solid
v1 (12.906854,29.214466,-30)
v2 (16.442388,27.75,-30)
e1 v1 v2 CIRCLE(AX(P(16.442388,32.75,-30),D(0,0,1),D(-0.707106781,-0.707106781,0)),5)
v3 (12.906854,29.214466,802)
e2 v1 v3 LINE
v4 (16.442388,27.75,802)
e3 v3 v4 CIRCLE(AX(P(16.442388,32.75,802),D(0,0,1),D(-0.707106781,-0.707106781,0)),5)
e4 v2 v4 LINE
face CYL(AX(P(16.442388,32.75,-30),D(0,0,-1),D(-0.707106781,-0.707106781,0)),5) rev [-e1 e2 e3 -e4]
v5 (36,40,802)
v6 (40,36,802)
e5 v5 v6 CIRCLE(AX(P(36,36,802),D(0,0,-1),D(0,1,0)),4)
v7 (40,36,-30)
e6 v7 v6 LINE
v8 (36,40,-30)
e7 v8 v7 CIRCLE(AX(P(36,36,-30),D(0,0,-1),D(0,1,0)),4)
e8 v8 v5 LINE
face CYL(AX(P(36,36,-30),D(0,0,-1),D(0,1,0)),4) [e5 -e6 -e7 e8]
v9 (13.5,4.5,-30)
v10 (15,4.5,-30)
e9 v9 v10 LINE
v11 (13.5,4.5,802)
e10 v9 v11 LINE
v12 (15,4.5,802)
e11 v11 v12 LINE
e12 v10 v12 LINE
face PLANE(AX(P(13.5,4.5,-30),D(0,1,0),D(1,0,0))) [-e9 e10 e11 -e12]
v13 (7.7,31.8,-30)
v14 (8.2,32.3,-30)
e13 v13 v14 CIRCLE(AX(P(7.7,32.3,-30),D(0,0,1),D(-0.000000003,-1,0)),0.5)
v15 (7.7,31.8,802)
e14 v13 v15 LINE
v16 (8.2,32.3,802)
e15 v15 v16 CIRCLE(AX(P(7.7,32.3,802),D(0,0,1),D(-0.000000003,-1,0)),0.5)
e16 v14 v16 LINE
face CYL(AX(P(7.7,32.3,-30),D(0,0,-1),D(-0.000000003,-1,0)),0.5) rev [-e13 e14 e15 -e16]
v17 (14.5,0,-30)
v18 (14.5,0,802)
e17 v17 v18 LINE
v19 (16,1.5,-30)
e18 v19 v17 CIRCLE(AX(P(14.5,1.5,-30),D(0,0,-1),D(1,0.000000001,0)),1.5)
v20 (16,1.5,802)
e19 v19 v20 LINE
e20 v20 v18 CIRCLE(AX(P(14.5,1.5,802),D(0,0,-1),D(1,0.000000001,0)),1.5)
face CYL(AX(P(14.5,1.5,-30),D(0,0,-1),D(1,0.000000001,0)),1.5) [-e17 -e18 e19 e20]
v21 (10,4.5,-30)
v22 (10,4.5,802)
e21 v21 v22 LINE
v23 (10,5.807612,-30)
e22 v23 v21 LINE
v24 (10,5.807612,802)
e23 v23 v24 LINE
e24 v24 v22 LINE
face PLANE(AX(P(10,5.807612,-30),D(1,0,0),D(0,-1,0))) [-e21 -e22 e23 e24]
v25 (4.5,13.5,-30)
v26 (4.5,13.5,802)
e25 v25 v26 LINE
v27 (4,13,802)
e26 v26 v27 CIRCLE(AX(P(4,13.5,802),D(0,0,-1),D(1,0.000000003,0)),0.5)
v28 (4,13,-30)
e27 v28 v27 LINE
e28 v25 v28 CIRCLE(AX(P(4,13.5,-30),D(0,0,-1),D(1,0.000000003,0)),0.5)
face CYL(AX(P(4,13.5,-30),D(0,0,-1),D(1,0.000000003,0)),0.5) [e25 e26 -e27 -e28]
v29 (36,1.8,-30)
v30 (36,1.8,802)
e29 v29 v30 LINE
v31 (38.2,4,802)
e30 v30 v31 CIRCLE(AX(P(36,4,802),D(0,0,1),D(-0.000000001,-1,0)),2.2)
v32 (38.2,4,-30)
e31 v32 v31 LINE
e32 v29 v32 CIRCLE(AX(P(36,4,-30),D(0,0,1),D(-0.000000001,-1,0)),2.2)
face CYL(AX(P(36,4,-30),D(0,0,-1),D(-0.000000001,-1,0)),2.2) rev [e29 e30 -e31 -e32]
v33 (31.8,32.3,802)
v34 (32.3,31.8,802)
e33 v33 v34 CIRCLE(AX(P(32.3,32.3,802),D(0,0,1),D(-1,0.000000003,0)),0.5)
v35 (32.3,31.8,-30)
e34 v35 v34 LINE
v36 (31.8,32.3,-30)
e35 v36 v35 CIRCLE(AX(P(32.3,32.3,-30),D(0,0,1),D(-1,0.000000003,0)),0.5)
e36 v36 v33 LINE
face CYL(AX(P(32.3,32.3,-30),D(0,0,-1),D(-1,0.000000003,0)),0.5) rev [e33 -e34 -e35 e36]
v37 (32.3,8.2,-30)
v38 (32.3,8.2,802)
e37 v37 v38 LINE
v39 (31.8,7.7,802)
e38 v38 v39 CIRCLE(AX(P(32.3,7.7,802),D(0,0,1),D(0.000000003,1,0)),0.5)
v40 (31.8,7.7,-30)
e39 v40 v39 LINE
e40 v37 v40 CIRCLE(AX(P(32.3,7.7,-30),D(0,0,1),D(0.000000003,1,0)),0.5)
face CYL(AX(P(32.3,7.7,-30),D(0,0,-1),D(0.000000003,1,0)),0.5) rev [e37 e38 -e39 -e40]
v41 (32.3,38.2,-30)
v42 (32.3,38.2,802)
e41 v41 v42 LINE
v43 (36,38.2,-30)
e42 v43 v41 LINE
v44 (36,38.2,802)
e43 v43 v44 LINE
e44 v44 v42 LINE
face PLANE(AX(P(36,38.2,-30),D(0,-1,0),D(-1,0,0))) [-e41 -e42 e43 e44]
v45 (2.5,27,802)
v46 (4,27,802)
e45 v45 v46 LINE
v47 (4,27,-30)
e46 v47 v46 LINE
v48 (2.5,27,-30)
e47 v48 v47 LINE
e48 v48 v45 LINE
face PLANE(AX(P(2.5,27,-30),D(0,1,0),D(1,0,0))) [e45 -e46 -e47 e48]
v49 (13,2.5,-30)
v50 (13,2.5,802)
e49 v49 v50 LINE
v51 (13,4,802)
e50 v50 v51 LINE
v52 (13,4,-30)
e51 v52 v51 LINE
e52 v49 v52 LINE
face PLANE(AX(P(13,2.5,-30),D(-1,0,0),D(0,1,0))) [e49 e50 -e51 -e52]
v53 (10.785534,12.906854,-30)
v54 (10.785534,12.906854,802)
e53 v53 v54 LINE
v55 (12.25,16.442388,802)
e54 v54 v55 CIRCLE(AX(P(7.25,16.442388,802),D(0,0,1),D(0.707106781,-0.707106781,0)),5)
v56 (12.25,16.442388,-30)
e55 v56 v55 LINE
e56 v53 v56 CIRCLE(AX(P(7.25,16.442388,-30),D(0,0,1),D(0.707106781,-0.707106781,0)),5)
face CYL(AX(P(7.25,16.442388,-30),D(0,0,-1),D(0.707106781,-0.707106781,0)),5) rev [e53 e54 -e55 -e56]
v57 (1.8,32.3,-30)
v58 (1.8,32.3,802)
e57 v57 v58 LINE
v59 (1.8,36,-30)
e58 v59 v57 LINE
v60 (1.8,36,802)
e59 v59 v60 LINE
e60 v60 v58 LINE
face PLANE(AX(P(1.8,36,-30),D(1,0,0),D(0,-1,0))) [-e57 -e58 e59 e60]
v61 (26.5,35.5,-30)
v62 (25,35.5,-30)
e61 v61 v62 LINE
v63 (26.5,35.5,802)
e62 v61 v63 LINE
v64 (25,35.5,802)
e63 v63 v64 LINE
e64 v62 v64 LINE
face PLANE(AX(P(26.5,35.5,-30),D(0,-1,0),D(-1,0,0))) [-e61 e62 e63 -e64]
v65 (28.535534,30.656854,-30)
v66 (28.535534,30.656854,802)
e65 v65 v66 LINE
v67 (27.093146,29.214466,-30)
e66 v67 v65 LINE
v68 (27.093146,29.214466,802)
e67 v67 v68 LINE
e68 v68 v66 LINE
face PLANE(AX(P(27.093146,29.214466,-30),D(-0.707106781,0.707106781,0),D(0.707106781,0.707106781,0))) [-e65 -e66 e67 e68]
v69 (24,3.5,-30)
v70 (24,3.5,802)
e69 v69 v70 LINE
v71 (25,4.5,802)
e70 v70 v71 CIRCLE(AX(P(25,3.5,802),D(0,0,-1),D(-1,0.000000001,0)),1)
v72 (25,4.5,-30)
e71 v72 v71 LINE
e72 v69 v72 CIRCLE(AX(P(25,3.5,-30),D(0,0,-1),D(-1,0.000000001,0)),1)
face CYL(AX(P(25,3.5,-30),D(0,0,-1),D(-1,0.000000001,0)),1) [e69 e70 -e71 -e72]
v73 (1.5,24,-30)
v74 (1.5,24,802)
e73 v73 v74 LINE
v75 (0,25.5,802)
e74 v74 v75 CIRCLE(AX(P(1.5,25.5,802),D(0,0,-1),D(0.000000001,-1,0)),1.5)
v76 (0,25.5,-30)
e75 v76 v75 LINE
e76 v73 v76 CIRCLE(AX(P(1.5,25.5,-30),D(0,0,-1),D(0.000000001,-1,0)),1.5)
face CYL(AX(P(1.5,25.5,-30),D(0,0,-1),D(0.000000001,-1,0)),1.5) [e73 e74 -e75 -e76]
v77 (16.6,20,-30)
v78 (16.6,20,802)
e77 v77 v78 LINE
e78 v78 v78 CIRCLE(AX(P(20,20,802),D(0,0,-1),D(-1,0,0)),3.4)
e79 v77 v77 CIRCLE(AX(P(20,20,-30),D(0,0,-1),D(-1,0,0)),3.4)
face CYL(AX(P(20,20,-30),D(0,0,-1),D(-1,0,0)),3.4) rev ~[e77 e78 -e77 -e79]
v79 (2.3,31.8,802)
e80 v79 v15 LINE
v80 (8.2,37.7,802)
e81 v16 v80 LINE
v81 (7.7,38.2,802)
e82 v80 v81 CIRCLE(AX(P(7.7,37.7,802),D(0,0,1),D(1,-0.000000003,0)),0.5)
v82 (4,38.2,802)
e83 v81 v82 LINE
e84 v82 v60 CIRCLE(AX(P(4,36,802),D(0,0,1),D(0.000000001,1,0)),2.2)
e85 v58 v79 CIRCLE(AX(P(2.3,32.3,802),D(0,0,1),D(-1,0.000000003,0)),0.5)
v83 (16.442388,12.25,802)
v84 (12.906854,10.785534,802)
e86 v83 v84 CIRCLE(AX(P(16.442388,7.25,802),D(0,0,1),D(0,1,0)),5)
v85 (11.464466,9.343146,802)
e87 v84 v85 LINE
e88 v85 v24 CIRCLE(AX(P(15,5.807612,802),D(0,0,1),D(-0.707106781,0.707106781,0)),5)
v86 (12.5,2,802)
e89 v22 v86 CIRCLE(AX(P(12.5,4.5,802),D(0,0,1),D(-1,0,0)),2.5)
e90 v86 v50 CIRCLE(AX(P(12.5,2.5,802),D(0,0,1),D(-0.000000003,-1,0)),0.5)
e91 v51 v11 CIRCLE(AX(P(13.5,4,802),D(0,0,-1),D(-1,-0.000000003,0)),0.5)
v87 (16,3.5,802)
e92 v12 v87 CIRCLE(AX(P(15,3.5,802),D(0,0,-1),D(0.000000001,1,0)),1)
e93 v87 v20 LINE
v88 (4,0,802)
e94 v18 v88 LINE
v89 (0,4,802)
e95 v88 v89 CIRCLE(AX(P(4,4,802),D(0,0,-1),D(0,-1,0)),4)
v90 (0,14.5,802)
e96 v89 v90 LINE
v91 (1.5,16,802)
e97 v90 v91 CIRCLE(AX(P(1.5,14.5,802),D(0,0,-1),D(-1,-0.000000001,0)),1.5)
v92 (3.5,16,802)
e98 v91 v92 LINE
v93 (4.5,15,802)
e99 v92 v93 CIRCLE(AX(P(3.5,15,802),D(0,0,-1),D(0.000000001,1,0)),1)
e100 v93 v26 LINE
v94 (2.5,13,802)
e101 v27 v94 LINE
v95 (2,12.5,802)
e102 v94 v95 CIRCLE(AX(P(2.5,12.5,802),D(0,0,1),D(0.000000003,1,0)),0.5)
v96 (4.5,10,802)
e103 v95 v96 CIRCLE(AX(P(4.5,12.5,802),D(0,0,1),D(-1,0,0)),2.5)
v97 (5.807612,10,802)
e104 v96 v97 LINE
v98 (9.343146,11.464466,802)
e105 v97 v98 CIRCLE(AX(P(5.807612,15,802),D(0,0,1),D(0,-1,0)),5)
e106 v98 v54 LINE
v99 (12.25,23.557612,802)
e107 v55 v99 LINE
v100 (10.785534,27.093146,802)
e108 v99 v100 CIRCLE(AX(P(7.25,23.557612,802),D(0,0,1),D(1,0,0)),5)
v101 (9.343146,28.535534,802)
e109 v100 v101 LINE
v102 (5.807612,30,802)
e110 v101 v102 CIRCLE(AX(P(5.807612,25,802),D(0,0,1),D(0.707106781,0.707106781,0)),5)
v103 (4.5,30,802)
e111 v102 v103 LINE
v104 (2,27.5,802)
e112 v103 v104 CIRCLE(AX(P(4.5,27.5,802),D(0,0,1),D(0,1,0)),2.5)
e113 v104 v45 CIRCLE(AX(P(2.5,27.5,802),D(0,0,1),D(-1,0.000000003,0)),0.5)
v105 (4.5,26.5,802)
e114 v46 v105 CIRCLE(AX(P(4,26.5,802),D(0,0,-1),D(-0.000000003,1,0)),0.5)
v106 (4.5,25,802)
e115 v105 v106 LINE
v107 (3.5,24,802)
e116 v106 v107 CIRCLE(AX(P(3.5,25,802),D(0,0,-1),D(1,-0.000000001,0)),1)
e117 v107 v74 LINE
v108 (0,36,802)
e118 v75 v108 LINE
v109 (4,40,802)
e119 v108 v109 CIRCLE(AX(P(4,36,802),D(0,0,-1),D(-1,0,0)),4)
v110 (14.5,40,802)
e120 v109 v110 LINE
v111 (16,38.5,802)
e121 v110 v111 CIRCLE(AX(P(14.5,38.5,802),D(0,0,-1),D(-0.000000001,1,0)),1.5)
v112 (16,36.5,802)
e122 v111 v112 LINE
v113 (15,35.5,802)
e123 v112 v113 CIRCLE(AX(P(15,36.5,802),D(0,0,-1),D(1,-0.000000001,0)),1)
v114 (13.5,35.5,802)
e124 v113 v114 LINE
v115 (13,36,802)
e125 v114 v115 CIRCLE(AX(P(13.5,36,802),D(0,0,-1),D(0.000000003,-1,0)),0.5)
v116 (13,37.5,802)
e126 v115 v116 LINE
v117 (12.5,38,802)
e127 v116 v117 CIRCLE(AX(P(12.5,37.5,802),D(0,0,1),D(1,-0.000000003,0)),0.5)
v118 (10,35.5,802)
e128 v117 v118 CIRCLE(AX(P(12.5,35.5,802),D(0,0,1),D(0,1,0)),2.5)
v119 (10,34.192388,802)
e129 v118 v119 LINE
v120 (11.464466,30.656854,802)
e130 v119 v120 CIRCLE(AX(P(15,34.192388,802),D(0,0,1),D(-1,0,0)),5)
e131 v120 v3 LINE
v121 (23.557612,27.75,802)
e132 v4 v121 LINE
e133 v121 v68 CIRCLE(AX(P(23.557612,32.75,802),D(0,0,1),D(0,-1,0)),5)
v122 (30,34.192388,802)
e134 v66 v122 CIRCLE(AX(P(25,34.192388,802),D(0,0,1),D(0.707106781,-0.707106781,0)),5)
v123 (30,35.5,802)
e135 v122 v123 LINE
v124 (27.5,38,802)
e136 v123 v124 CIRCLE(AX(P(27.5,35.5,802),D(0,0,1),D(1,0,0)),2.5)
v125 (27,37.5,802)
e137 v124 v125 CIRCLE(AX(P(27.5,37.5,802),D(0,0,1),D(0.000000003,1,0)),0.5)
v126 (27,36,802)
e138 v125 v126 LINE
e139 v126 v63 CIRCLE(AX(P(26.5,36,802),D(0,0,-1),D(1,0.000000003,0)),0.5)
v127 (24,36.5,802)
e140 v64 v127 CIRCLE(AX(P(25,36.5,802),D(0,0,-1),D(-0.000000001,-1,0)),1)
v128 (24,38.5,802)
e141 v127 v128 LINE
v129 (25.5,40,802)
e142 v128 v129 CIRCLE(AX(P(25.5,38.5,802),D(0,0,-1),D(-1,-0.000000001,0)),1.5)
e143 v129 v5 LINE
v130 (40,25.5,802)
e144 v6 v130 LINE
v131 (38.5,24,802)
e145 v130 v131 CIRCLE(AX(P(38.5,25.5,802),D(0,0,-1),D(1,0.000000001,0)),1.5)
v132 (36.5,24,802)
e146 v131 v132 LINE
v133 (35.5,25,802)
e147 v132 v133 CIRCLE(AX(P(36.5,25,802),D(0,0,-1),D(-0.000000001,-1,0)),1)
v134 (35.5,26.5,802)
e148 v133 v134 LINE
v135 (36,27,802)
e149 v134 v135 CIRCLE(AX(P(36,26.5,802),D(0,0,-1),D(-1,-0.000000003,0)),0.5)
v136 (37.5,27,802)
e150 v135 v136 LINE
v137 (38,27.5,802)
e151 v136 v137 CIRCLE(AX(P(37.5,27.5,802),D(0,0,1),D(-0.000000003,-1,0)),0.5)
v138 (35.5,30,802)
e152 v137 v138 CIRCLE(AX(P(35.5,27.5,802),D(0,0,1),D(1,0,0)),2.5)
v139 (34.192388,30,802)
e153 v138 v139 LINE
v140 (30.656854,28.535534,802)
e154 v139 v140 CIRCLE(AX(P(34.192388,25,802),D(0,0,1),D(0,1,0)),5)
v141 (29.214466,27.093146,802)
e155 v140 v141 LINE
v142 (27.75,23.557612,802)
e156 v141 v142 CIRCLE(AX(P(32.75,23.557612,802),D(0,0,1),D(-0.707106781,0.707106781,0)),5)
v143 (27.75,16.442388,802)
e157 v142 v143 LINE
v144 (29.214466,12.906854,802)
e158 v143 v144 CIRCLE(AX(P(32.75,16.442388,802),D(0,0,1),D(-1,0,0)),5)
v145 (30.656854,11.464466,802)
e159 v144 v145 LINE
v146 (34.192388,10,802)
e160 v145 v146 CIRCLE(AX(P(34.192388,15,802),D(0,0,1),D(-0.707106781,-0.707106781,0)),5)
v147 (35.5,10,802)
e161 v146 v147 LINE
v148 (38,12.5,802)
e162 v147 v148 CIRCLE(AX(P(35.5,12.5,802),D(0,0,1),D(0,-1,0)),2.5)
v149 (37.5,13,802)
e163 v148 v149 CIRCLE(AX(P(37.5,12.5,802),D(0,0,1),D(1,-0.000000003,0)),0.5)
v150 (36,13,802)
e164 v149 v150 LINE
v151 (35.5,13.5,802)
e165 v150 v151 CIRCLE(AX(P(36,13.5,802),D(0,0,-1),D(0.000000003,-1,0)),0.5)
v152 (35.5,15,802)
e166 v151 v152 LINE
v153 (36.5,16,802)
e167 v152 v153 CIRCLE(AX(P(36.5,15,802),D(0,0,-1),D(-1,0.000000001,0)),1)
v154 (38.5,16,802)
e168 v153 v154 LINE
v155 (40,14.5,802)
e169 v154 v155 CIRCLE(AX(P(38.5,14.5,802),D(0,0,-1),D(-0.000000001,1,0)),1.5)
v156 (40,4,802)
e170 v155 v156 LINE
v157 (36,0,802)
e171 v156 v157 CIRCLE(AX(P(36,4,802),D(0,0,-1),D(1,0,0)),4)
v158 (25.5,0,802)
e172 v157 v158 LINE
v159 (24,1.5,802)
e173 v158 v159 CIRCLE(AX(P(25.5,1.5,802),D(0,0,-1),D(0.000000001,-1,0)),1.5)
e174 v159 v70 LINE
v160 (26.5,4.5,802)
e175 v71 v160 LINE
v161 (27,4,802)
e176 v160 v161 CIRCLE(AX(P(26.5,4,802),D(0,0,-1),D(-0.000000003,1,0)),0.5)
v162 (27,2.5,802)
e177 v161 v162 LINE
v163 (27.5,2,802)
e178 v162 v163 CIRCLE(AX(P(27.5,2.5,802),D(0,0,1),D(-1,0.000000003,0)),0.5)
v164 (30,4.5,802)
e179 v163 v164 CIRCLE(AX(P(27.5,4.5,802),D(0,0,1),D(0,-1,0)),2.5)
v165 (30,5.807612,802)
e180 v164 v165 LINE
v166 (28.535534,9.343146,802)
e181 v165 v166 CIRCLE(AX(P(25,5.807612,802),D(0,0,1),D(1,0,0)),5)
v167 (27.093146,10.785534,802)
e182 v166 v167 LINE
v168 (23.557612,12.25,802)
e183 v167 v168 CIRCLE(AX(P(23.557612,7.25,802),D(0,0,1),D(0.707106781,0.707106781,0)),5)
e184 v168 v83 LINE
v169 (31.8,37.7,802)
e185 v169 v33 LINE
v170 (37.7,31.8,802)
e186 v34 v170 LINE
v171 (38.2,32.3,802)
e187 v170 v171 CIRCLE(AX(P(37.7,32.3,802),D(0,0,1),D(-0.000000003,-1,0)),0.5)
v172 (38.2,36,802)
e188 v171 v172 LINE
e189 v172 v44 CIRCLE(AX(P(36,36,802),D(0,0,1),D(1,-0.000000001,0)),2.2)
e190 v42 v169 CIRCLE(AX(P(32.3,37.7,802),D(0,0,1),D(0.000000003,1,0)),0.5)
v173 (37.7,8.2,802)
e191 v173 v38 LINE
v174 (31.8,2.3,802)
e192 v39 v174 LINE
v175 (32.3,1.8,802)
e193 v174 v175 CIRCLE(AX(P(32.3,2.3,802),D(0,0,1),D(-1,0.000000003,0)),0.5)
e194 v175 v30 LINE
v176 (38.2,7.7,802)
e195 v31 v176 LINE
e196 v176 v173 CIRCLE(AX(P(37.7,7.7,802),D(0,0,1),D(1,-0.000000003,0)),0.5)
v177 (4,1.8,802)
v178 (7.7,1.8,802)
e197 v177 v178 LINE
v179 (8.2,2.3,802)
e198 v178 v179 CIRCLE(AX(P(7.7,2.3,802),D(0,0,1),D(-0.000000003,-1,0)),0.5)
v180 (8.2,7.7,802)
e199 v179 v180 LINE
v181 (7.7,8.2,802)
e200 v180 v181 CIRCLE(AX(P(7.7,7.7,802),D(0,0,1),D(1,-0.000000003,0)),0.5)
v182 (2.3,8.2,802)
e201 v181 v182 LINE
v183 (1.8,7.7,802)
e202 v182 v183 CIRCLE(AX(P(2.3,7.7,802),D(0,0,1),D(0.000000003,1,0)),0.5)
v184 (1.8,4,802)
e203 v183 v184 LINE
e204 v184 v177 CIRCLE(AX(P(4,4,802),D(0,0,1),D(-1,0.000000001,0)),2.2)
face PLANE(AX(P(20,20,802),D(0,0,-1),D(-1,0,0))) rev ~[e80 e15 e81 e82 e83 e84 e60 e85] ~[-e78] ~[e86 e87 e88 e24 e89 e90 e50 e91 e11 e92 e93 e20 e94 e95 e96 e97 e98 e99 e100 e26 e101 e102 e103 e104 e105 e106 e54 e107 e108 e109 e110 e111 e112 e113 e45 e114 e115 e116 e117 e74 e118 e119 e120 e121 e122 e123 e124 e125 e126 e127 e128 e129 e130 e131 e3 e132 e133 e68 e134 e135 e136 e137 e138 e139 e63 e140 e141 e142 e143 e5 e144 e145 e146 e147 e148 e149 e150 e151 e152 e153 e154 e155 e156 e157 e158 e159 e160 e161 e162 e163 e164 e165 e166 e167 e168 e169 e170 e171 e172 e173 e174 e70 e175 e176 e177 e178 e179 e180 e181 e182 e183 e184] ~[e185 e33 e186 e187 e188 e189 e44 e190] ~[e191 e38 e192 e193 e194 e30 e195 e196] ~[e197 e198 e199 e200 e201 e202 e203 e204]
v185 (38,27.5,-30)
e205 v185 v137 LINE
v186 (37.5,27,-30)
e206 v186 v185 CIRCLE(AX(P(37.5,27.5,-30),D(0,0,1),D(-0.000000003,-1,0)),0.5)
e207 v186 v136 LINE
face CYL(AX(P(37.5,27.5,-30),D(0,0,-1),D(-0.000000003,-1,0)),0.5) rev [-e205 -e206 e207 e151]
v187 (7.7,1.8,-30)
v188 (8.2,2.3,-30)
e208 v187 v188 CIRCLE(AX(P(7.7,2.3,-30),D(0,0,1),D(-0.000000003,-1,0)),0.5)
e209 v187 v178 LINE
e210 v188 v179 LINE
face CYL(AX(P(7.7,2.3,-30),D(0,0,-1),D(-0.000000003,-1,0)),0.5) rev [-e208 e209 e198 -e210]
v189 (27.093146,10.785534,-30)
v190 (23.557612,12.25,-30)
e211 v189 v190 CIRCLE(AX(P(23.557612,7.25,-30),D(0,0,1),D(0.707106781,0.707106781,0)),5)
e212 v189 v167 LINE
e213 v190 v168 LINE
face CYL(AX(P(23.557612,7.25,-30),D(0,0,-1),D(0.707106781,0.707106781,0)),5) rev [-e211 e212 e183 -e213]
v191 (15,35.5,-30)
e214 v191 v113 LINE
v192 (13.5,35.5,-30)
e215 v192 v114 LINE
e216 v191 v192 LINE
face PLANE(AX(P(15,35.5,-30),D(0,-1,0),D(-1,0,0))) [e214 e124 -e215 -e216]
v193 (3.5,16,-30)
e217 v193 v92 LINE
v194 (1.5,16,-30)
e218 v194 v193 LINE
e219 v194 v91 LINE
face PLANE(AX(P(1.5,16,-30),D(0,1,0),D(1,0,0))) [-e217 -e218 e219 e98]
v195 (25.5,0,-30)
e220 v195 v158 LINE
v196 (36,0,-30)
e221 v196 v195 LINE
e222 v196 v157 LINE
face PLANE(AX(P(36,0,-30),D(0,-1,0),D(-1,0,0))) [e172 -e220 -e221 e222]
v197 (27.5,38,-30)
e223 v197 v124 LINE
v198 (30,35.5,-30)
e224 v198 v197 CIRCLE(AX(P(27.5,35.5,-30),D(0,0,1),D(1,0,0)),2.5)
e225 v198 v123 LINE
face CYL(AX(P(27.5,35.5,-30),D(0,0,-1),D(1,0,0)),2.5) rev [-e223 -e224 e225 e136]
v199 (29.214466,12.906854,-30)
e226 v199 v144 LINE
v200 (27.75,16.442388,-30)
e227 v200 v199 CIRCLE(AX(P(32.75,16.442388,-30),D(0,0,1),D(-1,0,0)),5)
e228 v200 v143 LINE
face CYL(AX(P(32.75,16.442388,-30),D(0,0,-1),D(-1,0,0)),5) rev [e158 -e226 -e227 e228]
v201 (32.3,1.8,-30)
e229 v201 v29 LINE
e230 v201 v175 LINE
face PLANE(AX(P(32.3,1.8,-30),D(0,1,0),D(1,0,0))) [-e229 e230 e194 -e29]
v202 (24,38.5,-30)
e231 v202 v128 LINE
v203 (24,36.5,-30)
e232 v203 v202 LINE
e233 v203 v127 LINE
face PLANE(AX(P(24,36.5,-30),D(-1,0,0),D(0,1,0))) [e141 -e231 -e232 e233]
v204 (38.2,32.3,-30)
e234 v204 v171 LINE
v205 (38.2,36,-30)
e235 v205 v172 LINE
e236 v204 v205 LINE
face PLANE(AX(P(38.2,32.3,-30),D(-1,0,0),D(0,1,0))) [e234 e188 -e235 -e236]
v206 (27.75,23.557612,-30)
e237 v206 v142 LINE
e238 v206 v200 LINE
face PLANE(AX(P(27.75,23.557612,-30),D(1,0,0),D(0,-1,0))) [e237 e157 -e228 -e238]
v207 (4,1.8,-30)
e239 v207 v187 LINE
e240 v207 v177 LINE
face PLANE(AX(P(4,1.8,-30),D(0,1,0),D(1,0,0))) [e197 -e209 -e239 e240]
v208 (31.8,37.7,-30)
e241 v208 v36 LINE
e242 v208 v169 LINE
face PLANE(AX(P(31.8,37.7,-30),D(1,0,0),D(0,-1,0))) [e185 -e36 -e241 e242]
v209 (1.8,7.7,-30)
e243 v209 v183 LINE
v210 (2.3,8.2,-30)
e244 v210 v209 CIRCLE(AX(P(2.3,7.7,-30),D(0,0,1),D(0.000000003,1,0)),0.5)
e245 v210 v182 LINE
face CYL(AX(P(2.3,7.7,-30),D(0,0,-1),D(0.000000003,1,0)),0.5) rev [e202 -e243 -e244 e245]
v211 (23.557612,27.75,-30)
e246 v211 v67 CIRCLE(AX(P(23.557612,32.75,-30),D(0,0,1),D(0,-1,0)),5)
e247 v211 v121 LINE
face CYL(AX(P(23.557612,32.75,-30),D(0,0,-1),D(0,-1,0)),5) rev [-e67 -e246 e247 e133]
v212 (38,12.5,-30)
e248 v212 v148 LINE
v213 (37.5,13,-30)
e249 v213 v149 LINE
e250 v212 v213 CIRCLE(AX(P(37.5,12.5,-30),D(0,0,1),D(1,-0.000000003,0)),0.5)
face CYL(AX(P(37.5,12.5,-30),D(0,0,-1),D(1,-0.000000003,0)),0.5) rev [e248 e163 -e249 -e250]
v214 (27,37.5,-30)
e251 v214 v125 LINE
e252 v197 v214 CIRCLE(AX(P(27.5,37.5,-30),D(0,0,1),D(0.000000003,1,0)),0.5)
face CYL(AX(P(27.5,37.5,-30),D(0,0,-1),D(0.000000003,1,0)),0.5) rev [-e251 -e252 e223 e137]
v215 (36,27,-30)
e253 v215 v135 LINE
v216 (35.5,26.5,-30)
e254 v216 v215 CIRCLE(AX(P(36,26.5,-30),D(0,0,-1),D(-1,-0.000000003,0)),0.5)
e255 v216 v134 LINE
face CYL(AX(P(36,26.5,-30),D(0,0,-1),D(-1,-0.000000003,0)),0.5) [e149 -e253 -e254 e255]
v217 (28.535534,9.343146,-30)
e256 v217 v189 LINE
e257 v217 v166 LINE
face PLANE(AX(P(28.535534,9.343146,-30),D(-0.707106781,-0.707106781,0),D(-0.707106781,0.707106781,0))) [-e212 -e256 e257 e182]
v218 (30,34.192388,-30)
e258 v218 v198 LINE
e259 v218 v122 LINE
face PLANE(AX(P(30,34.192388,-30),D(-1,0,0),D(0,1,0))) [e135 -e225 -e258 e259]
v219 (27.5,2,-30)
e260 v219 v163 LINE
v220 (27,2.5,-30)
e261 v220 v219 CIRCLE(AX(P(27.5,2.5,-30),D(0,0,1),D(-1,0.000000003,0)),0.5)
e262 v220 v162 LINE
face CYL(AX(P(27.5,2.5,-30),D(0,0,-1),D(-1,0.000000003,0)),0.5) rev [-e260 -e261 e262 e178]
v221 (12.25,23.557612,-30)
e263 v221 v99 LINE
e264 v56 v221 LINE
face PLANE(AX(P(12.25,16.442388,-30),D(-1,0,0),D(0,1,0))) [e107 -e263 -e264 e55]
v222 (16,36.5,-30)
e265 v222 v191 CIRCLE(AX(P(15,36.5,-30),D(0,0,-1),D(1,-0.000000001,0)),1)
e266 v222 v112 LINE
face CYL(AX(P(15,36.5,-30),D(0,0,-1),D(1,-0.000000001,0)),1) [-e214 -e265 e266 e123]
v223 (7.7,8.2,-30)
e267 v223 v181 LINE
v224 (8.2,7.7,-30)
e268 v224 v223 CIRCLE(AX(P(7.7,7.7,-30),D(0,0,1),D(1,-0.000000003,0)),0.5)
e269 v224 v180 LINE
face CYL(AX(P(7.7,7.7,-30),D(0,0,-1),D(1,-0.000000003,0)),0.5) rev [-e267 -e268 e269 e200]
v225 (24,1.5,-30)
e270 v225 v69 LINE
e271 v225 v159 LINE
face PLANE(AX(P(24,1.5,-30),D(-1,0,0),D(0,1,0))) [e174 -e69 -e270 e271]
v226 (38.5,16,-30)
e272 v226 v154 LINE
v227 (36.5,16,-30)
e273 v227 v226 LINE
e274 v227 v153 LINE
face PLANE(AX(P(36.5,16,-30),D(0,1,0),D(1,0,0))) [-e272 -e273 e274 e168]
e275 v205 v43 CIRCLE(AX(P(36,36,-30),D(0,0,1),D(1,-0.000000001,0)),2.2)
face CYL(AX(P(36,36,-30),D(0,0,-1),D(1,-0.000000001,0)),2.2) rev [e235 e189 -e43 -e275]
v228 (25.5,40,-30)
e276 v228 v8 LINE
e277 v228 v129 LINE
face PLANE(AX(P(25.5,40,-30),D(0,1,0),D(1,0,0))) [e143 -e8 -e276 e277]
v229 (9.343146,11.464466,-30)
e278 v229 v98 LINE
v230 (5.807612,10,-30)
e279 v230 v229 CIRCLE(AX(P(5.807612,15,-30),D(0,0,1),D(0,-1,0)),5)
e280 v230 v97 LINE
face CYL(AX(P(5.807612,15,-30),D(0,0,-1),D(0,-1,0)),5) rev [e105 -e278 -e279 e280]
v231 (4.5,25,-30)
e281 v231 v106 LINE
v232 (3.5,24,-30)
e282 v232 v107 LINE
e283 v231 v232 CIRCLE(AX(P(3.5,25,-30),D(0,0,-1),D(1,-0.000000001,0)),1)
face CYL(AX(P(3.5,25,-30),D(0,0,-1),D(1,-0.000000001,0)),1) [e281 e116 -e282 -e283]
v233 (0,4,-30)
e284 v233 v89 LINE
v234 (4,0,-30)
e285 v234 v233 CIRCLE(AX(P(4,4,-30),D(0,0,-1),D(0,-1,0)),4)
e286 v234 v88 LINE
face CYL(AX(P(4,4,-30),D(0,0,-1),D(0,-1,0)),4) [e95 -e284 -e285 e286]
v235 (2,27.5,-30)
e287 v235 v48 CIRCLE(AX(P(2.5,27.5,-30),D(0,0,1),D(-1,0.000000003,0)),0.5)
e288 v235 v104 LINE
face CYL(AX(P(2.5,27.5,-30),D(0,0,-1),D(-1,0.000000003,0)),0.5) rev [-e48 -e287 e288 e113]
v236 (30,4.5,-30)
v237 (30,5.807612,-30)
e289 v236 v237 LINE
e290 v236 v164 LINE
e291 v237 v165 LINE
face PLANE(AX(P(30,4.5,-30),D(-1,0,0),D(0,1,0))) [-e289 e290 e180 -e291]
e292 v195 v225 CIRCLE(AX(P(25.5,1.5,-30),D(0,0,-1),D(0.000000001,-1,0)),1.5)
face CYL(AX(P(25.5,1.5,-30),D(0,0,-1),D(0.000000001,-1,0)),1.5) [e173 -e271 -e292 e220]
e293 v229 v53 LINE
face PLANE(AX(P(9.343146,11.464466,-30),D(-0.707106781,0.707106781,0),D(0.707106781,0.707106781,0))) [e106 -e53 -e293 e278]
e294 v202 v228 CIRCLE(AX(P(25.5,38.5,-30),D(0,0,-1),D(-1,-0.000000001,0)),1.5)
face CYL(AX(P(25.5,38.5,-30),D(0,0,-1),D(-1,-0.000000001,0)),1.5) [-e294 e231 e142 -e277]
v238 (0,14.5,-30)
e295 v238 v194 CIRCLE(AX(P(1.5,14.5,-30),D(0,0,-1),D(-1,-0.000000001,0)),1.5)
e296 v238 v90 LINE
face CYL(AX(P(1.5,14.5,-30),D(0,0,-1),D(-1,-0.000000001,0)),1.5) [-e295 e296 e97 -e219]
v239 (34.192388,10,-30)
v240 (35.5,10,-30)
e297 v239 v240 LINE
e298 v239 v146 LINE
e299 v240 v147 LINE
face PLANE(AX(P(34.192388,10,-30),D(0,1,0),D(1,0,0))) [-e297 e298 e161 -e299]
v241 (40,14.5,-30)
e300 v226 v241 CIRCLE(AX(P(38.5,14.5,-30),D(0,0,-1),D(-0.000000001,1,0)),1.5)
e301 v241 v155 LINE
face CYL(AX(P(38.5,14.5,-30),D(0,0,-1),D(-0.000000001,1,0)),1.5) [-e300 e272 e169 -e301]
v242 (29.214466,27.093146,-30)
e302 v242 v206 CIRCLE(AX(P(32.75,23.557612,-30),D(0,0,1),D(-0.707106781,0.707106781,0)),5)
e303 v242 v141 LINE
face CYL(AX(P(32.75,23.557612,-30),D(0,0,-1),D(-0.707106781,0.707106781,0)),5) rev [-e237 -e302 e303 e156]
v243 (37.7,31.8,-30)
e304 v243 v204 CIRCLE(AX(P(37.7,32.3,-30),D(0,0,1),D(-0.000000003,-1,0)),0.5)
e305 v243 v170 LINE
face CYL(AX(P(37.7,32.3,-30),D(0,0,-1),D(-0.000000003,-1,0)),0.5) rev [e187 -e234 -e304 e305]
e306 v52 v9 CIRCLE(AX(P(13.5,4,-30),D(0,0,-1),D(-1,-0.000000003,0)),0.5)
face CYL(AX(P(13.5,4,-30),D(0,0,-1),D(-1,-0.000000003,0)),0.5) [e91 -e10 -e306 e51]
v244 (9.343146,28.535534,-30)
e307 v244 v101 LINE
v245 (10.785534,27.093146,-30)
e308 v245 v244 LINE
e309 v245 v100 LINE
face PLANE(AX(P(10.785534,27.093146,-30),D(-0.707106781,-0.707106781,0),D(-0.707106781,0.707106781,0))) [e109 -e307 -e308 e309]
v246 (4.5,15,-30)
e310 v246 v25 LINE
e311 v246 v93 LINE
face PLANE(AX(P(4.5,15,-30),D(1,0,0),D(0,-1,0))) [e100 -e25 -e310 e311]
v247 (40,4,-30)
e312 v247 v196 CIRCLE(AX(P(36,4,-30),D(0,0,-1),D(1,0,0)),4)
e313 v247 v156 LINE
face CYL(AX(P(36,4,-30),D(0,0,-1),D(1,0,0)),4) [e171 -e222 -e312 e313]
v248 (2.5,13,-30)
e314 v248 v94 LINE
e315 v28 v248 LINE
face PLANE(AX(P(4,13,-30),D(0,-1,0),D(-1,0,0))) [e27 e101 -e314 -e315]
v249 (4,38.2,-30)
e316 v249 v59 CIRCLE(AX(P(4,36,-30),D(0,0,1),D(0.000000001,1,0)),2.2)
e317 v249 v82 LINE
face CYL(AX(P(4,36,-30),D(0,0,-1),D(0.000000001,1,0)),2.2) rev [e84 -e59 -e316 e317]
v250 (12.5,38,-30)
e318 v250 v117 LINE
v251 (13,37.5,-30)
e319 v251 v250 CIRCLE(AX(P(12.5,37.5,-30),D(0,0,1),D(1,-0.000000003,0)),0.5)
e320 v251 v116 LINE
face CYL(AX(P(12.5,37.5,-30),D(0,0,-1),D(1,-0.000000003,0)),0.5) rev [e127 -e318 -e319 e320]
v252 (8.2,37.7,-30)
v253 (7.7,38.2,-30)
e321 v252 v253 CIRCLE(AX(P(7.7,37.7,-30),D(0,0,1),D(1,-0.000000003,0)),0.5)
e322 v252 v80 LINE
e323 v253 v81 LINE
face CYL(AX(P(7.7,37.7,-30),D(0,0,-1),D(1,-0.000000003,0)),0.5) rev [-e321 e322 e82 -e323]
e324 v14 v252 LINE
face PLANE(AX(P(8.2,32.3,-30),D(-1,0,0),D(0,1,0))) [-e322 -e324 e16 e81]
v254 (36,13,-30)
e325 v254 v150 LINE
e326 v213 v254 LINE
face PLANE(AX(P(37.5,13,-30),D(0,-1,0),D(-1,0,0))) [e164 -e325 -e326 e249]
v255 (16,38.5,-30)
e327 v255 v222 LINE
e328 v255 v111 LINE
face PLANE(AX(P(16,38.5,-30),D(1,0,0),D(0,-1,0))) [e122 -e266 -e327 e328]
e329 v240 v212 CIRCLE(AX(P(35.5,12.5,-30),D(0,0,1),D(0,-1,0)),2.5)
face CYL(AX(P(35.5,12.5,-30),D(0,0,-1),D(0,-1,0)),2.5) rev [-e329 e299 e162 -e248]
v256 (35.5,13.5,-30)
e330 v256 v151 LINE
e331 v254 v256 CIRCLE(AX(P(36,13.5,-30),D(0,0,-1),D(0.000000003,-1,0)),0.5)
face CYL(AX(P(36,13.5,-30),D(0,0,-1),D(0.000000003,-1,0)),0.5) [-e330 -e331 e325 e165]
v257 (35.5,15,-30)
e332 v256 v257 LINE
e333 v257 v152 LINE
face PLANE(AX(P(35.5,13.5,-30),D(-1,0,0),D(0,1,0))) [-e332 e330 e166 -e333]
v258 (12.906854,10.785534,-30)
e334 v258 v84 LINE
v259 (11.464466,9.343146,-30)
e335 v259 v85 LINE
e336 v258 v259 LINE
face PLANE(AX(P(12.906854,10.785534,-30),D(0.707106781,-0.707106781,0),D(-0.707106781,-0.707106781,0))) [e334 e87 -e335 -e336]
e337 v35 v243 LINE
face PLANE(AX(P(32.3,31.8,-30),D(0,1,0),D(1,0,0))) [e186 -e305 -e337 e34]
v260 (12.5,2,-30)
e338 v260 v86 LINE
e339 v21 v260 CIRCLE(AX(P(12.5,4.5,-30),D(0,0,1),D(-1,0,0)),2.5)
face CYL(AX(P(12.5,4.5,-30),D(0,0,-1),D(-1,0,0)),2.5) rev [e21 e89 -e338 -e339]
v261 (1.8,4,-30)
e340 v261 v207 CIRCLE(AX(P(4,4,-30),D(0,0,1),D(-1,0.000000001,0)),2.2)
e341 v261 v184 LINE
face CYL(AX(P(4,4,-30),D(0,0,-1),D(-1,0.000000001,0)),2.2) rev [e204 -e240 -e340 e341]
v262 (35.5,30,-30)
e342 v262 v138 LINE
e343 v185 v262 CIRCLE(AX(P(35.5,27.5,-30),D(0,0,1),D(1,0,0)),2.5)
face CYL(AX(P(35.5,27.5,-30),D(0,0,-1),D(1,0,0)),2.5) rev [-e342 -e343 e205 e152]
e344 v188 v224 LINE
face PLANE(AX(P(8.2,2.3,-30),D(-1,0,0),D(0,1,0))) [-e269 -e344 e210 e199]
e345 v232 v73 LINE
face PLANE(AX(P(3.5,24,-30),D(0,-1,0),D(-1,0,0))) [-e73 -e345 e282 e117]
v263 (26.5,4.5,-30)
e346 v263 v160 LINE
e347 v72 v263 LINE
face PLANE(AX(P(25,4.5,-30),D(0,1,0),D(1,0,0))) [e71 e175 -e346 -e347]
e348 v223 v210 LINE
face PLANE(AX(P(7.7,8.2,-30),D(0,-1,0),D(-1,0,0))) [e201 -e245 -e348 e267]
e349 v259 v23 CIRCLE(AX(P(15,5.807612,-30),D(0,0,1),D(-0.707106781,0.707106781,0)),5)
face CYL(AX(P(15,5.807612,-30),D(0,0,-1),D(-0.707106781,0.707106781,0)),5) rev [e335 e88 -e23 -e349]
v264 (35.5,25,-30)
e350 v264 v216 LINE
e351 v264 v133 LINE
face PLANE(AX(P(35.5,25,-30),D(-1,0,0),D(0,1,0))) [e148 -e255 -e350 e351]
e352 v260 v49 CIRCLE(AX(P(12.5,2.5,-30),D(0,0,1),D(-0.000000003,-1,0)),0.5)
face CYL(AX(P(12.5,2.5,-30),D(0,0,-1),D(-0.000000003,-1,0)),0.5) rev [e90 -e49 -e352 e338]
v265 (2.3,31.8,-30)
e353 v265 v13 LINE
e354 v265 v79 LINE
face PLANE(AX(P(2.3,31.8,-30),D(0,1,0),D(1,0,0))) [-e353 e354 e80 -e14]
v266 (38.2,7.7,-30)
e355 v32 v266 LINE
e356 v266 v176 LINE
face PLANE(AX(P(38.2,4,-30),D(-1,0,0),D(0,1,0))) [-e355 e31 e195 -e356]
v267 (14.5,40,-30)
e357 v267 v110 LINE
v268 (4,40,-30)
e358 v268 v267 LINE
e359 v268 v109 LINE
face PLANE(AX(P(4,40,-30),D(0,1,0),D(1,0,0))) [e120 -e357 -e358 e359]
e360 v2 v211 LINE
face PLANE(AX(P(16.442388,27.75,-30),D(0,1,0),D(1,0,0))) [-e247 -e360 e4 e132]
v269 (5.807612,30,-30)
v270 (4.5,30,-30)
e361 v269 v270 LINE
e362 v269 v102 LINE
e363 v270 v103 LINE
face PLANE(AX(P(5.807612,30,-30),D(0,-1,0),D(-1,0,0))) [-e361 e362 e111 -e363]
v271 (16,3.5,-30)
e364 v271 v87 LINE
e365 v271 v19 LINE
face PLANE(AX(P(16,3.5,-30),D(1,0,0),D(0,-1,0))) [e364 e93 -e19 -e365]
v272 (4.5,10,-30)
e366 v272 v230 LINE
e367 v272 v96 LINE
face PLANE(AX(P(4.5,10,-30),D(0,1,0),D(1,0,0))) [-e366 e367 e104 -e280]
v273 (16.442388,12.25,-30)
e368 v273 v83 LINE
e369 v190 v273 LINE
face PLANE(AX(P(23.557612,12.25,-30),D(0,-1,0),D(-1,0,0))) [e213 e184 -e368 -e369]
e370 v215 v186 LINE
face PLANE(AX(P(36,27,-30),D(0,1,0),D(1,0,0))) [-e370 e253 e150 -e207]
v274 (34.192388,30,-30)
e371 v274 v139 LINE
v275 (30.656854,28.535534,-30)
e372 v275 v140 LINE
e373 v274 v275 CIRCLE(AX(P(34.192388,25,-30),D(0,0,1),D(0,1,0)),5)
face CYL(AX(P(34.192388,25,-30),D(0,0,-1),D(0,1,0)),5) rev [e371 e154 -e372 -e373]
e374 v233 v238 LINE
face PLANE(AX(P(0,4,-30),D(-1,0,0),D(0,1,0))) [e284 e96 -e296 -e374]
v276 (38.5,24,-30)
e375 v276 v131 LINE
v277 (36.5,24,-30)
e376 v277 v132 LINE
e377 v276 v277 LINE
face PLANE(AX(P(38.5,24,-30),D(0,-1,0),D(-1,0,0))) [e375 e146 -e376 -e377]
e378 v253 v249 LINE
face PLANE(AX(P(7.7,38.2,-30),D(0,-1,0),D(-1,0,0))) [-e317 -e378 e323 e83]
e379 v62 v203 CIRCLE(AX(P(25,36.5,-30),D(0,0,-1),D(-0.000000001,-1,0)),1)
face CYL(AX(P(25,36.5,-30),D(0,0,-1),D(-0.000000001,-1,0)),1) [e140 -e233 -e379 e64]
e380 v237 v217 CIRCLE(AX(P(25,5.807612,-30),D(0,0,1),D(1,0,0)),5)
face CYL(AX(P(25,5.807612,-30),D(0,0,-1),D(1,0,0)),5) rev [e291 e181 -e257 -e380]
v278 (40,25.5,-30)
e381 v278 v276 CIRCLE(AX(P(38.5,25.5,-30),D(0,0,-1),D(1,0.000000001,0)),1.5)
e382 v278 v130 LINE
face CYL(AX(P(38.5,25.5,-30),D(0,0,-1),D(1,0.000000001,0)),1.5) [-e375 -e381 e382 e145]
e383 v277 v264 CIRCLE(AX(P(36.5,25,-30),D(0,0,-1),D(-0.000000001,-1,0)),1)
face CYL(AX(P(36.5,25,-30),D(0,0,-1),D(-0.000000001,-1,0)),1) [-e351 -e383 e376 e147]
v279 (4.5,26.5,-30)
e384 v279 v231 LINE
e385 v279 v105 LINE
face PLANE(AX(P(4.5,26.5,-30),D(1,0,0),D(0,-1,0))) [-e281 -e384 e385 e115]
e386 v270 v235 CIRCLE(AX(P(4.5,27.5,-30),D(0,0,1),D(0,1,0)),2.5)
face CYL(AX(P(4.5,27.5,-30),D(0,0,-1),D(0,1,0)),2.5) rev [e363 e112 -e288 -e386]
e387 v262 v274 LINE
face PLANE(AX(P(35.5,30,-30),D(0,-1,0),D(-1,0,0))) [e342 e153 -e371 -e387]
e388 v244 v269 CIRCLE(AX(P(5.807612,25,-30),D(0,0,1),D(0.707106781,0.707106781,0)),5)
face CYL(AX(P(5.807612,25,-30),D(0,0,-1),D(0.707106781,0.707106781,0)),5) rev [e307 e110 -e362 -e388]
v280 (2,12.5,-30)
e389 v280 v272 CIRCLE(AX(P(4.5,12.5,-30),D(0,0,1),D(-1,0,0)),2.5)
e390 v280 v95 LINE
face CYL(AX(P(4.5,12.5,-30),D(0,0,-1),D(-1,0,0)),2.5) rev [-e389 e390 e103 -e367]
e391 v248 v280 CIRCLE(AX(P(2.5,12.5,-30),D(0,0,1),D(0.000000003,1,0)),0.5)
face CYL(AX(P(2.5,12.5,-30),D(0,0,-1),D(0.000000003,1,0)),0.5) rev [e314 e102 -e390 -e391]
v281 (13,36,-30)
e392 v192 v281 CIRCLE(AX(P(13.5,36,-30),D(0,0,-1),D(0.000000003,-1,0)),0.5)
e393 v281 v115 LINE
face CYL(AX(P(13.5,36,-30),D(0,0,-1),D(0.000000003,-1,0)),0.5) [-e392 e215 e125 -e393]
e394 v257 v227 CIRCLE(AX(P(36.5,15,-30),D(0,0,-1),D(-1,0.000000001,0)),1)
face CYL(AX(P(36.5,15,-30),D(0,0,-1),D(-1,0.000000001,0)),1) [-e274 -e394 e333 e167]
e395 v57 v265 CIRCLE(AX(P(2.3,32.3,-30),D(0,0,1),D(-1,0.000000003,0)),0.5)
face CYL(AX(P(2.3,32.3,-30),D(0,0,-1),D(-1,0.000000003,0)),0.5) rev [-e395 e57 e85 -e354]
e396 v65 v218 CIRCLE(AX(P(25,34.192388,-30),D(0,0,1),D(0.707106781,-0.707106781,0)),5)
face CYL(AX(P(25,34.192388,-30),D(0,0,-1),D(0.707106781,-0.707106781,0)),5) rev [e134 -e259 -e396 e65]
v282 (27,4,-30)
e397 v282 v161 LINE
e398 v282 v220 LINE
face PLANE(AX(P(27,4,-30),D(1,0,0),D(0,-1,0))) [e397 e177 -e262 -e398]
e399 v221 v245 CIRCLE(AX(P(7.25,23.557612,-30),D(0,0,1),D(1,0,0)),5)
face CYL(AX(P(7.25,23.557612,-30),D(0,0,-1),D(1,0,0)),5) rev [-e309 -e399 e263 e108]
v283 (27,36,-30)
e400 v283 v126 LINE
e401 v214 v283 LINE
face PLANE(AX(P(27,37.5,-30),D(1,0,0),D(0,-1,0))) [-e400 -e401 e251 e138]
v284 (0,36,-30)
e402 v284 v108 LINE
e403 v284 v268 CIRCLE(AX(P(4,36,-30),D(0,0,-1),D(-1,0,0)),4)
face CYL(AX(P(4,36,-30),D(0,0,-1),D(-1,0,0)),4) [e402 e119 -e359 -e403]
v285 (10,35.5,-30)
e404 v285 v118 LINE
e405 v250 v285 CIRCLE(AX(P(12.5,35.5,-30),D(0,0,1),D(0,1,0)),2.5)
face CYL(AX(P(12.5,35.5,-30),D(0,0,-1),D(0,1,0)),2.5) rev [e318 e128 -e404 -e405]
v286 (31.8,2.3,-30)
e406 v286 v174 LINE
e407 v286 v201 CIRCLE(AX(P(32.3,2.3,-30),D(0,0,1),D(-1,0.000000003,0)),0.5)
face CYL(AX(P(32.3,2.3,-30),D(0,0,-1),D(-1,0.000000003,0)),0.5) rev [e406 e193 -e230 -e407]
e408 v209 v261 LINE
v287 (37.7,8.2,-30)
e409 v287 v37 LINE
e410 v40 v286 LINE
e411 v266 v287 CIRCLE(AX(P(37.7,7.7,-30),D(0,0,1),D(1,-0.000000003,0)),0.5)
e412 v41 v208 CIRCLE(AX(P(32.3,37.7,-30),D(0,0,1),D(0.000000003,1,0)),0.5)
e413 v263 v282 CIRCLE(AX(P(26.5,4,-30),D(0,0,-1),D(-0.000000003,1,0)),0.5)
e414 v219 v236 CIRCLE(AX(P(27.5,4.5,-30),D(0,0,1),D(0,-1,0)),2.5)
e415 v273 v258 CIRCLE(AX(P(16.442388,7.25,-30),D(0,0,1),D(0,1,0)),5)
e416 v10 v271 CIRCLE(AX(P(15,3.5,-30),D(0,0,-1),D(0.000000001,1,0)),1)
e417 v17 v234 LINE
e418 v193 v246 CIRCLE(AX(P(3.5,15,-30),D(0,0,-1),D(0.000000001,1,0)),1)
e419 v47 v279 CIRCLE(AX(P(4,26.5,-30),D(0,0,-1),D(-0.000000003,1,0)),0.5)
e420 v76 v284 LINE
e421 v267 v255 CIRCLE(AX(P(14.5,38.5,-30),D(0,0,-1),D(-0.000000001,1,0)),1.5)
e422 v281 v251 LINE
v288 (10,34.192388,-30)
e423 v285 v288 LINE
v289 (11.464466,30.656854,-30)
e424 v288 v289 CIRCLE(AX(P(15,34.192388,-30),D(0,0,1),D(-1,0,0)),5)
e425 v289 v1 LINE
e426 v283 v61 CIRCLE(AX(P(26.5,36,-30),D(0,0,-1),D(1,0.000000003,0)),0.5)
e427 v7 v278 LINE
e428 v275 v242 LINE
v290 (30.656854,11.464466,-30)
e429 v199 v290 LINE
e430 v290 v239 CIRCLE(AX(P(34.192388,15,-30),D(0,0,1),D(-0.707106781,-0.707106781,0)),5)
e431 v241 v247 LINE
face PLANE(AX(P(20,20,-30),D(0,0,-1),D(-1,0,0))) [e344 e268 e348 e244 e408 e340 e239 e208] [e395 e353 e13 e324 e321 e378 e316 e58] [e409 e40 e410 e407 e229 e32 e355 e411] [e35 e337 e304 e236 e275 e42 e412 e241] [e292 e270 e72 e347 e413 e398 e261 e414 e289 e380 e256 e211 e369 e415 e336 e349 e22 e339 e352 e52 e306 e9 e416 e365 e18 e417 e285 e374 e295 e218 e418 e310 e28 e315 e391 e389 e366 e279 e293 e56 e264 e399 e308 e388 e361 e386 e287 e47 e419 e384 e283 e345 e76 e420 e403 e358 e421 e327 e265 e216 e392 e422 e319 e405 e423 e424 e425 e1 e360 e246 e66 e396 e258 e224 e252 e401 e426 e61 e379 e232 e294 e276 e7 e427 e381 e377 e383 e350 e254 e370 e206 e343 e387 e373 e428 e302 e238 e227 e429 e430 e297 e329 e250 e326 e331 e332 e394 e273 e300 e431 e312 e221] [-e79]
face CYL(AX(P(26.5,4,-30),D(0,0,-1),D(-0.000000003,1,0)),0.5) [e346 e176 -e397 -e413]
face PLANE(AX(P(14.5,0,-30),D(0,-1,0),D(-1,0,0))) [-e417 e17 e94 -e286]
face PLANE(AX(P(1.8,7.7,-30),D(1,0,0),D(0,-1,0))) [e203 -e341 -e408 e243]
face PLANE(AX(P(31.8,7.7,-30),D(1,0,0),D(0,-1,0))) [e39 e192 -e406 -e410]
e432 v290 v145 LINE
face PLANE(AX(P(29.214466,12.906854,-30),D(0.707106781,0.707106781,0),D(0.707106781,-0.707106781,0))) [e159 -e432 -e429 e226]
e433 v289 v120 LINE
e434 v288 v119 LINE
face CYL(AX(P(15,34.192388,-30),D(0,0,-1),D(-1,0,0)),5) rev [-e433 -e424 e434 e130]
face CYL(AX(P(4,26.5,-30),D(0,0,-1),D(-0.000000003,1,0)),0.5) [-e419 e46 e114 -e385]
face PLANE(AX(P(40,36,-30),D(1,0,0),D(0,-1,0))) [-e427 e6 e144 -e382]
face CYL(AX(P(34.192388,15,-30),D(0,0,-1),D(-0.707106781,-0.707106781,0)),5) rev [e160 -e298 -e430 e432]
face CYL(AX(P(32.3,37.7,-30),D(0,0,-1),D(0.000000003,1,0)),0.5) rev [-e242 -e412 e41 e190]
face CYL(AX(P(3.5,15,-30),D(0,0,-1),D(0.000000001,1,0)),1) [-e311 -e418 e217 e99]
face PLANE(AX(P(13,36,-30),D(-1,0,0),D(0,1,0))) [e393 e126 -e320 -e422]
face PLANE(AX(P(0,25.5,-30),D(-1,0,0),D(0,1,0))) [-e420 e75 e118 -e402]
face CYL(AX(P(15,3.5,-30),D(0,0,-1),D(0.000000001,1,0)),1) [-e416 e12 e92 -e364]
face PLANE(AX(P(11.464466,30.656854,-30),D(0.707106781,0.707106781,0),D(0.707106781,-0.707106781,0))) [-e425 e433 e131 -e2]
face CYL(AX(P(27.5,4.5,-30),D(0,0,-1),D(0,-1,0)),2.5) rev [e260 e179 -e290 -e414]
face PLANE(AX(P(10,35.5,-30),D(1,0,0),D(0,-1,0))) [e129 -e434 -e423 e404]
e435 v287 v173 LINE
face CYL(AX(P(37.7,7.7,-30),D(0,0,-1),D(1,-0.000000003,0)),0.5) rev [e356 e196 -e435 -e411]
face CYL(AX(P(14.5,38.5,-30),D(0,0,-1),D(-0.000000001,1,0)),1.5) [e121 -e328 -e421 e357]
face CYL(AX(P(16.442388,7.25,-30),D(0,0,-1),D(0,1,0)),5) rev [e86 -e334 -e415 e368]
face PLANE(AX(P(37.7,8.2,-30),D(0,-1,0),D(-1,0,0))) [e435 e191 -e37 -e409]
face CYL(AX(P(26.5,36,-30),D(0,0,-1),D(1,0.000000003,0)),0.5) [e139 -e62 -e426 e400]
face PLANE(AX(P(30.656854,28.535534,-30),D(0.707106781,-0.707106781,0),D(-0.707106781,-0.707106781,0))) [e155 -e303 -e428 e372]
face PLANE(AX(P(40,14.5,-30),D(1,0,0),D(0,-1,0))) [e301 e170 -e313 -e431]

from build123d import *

# Parameters (mm, degrees)
ESQUISSE1_R        = 3.4
BOSS_EXTRU_1_DEPTH = 832


with BuildPart() as part:
    # Esquisse1 → Boss.-Extru.1 (new body)
    with BuildSketch(Plane(origin=(0, 0, -30), x_dir=(-1, 0, 0), z_dir=(0, 0, -1))):
        with BuildLine():
            Line((-4.5, 15), (-4.5, 13.5))
            ThreePointArc((-4.5, 13.5), (-4.353553391, 13.146446609), (-4, 13))
            Line((-4, 13), (-2.5, 13))
            ThreePointArc((-2.5, 13), (-2.146446609, 12.853553391), (-2, 12.5))
            ThreePointArc((-2, 12.5), (-2.732233047, 10.732233047), (-4.5, 10))
            Line((-4.5, 10), (-5.807611845, 10))
            ThreePointArc((-5.807611845, 10), (-7.721029006, 10.380602337), (-9.343145751, 11.464466094))
            Line((-9.343145751, 11.464466094), (-10.785533906, 12.906854249))
            ThreePointArc((-10.785533906, 12.906854249), (-11.869397663, 14.528970994), (-12.25, 16.442388155))
            Line((-12.25, 16.442388155), (-12.25, 23.557611845))
            ThreePointArc((-12.25, 23.557611845), (-11.869397663, 25.471029006), (-10.785533906, 27.093145751))
            Line((-10.785533906, 27.093145751), (-9.343145751, 28.535533906))
            ThreePointArc((-9.343145751, 28.535533906), (-7.721029006, 29.619397663), (-5.807611845, 30))
            Line((-5.807611845, 30), (-4.5, 30))
            ThreePointArc((-4.5, 30), (-2.732233047, 29.267766953), (-2, 27.5))
            ThreePointArc((-2, 27.5), (-2.146446609, 27.146446609), (-2.5, 27))
            Line((-2.5, 27), (-4, 27))
            ThreePointArc((-4, 27), (-4.353553391, 26.853553391), (-4.5, 26.5))
            Line((-4.5, 26.5), (-4.5, 25))
            ThreePointArc((-4.5, 25), (-4.207106781, 24.292893219), (-3.5, 24))
            Line((-3.5, 24), (-1.5, 24))
            ThreePointArc((-1.5, 24), (-0.439339828, 24.439339828), (0, 25.5))
            Line((0, 25.5), (0, 36))
            ThreePointArc((0, 36), (-1.171572875, 38.828427125), (-4, 40))
            Line((-4, 40), (-14.5, 40))
            ThreePointArc((-14.5, 40), (-15.560660172, 39.560660172), (-16, 38.5))
            Line((-16, 38.5), (-16, 36.5))
            ThreePointArc((-16, 36.5), (-15.707106781, 35.792893219), (-15, 35.5))
            Line((-15, 35.5), (-13.5, 35.5))
            ThreePointArc((-13.5, 35.5), (-13.146446609, 35.646446609), (-13, 36))
            Line((-13, 36), (-13, 37.5))
            ThreePointArc((-13, 37.5), (-12.853553391, 37.853553391), (-12.5, 38))
            ThreePointArc((-12.5, 38), (-10.732233047, 37.267766953), (-10, 35.5))
            Line((-10, 35.5), (-10, 34.192388155))
            ThreePointArc((-10, 34.192388155), (-10.380602337, 32.278970994), (-11.464466094, 30.656854249))
            Line((-11.464466094, 30.656854249), (-12.906854249, 29.214466094))
            ThreePointArc((-12.906854249, 29.214466094), (-14.528970994, 28.130602337), (-16.442388155, 27.75))
            Line((-16.442388155, 27.75), (-23.557611845, 27.75))
            ThreePointArc((-23.557611845, 27.75), (-25.471029006, 28.130602337), (-27.093145751, 29.214466094))
            Line((-27.093145751, 29.214466094), (-28.535533906, 30.656854249))
            ThreePointArc((-28.535533906, 30.656854249), (-29.619397663, 32.278970994), (-30, 34.192388155))
            Line((-30, 34.192388155), (-30, 35.5))
            ThreePointArc((-30, 35.5), (-29.267766953, 37.267766953), (-27.5, 38))
            ThreePointArc((-27.5, 38), (-27.146446609, 37.853553391), (-27, 37.5))
            Line((-27, 37.5), (-27, 36))
            ThreePointArc((-27, 36), (-26.853553391, 35.646446609), (-26.5, 35.5))
            Line((-26.5, 35.5), (-25, 35.5))
            ThreePointArc((-25, 35.5), (-24.292893219, 35.792893219), (-24, 36.5))
            Line((-24, 36.5), (-24, 38.5))
            ThreePointArc((-24, 38.5), (-24.439339828, 39.560660172), (-25.5, 40))
            Line((-25.5, 40), (-36, 40))
            ThreePointArc((-36, 40), (-38.828427125, 38.828427125), (-40, 36))
            Line((-40, 36), (-40, 25.5))
            ThreePointArc((-40, 25.5), (-39.560660172, 24.439339828), (-38.5, 24))
            Line((-38.5, 24), (-36.5, 24))
            ThreePointArc((-36.5, 24), (-35.792893219, 24.292893219), (-35.5, 25))
            Line((-35.5, 25), (-35.5, 26.5))
            ThreePointArc((-35.5, 26.5), (-35.646446609, 26.853553391), (-36, 27))
            Line((-36, 27), (-37.5, 27))
            ThreePointArc((-37.5, 27), (-37.853553391, 27.146446609), (-38, 27.5))
            ThreePointArc((-38, 27.5), (-37.267766953, 29.267766953), (-35.5, 30))
            Line((-35.5, 30), (-34.192388155, 30))
            ThreePointArc((-34.192388155, 30), (-32.278970994, 29.619397663), (-30.656854249, 28.535533906))
            Line((-30.656854249, 28.535533906), (-29.214466094, 27.093145751))
            ThreePointArc((-29.214466094, 27.093145751), (-28.130602337, 25.471029006), (-27.75, 23.557611845))
            Line((-27.75, 23.557611845), (-27.75, 16.442388155))
            ThreePointArc((-27.75, 16.442388155), (-28.130602337, 14.528970994), (-29.214466094, 12.906854249))
            Line((-29.214466094, 12.906854249), (-30.656854249, 11.464466094))
            ThreePointArc((-30.656854249, 11.464466094), (-32.278970994, 10.380602337), (-34.192388155, 10))
            Line((-34.192388155, 10), (-35.5, 10))
            ThreePointArc((-35.5, 10), (-37.267766953, 10.732233047), (-38, 12.5))
            ThreePointArc((-38, 12.5), (-37.853553391, 12.853553391), (-37.5, 13))
            Line((-37.5, 13), (-36, 13))
            ThreePointArc((-36, 13), (-35.646446609, 13.146446609), (-35.5, 13.5))
            Line((-35.5, 13.5), (-35.5, 15))
            ThreePointArc((-35.5, 15), (-35.792893219, 15.707106781), (-36.5, 16))
            Line((-36.5, 16), (-38.5, 16))
            ThreePointArc((-38.5, 16), (-39.560660172, 15.560660172), (-40, 14.5))
            Line((-40, 14.5), (-40, 4))
            ThreePointArc((-40, 4), (-38.828427125, 1.171572875), (-36, 0))
            Line((-36, 0), (-25.5, 0))
            ThreePointArc((-25.5, 0), (-24.439339828, 0.439339828), (-24, 1.5))
            Line((-24, 1.5), (-24, 3.5))
            ThreePointArc((-24, 3.5), (-24.292893219, 4.207106781), (-25, 4.5))
            Line((-25, 4.5), (-26.5, 4.5))
            ThreePointArc((-26.5, 4.5), (-26.853553391, 4.353553391), (-27, 4))
            Line((-27, 4), (-27, 2.5))
            ThreePointArc((-27, 2.5), (-27.146446609, 2.146446609), (-27.5, 2))
            ThreePointArc((-27.5, 2), (-29.267766953, 2.732233047), (-30, 4.5))
            Line((-30, 4.5), (-30, 5.807611845))
            ThreePointArc((-30, 5.807611845), (-29.619397663, 7.721029006), (-28.535533906, 9.343145751))
            Line((-28.535533906, 9.343145751), (-27.093145751, 10.785533906))
            ThreePointArc((-27.093145751, 10.785533906), (-25.471029006, 11.869397663), (-23.557611845, 12.25))
            Line((-23.557611845, 12.25), (-16.442388155, 12.25))
            ThreePointArc((-16.442388155, 12.25), (-14.528970994, 11.869397663), (-12.906854249, 10.785533906))
            Line((-12.906854249, 10.785533906), (-11.464466094, 9.343145751))
            ThreePointArc((-11.464466094, 9.343145751), (-10.380602337, 7.721029006), (-10, 5.807611845))
            Line((-10, 5.807611845), (-10, 4.5))
            ThreePointArc((-10, 4.5), (-10.732233047, 2.732233047), (-12.5, 2))
            ThreePointArc((-12.5, 2), (-12.853553391, 2.146446609), (-13, 2.5))
            Line((-13, 2.5), (-13, 4))
            ThreePointArc((-13, 4), (-13.146446609, 4.353553391), (-13.5, 4.5))
            Line((-13.5, 4.5), (-15, 4.5))
            ThreePointArc((-15, 4.5), (-15.707106781, 4.207106781), (-16, 3.5))
            Line((-16, 3.5), (-16, 1.5))
            ThreePointArc((-16, 1.5), (-15.560660172, 0.439339828), (-14.5, 0))
            Line((-14.5, 0), (-4, 0))
            ThreePointArc((-4, 0), (-1.171572875, 1.171572875), (0, 4))
            Line((0, 4), (0, 14.5))
            ThreePointArc((0, 14.5), (-0.439339828, 15.560660172), (-1.5, 16))
            Line((-1.5, 16), (-3.5, 16))
            ThreePointArc((-3.5, 16), (-4.207106781, 15.707106781), (-4.5, 15))
        make_face()
        with Locations((-20, 20)):
            Circle(ESQUISSE1_R, mode=Mode.SUBTRACT)
        with BuildLine():
            Line((-4, 1.8), (-7.7, 1.8))
            ThreePointArc((-7.7, 1.8), (-8.053553391, 1.946446609), (-8.2, 2.3))
            Line((-8.2, 2.3), (-8.2, 7.7))
            ThreePointArc((-8.2, 7.7), (-8.053553391, 8.053553391), (-7.7, 8.2))
            Line((-7.7, 8.2), (-2.3, 8.2))
            ThreePointArc((-2.3, 8.2), (-1.946446609, 8.053553391), (-1.8, 7.7))
            Line((-1.8, 7.7), (-1.8, 4))
            ThreePointArc((-1.8, 4), (-2.444365081, 2.444365081), (-4, 1.8))
        make_face(mode=Mode.SUBTRACT)
        with BuildLine():
            Line((-38.2, 4), (-38.2, 7.7))
            ThreePointArc((-38.2, 7.7), (-38.053553391, 8.053553391), (-37.7, 8.2))
            Line((-37.7, 8.2), (-32.3, 8.2))
            ThreePointArc((-32.3, 8.2), (-31.946446609, 8.053553391), (-31.8, 7.7))
            Line((-31.8, 7.7), (-31.8, 2.3))
            ThreePointArc((-31.8, 2.3), (-31.946446609, 1.946446609), (-32.3, 1.8))
            Line((-32.3, 1.8), (-36, 1.8))
            ThreePointArc((-36, 1.8), (-37.555634919, 2.444365081), (-38.2, 4))
        make_face(mode=Mode.SUBTRACT)
        with BuildLine():
            Line((-36, 38.2), (-32.3, 38.2))
            ThreePointArc((-32.3, 38.2), (-31.946446609, 38.053553391), (-31.8, 37.7))
            Line((-31.8, 37.7), (-31.8, 32.3))
            ThreePointArc((-31.8, 32.3), (-31.946446609, 31.946446609), (-32.3, 31.8))
            Line((-32.3, 31.8), (-37.7, 31.8))
            ThreePointArc((-37.7, 31.8), (-38.053553391, 31.946446609), (-38.2, 32.3))
            Line((-38.2, 32.3), (-38.2, 36))
            ThreePointArc((-38.2, 36), (-37.555634919, 37.555634919), (-36, 38.2))
        make_face(mode=Mode.SUBTRACT)
        with BuildLine():
            Line((-1.8, 36), (-1.8, 32.3))
            ThreePointArc((-1.8, 32.3), (-1.946446609, 31.946446609), (-2.3, 31.8))
            Line((-2.3, 31.8), (-7.7, 31.8))
            ThreePointArc((-7.7, 31.8), (-8.053553391, 31.946446609), (-8.2, 32.3))
            Line((-8.2, 32.3), (-8.2, 37.7))
            ThreePointArc((-8.2, 37.7), (-8.053553391, 38.053553391), (-7.7, 38.2))
            Line((-7.7, 38.2), (-4, 38.2))
            ThreePointArc((-4, 38.2), (-2.444365081, 37.555634919), (-1.8, 36))
        make_face(mode=Mode.SUBTRACT)
    extrude(amount=-BOSS_EXTRU_1_DEPTH)


solid = part.part
